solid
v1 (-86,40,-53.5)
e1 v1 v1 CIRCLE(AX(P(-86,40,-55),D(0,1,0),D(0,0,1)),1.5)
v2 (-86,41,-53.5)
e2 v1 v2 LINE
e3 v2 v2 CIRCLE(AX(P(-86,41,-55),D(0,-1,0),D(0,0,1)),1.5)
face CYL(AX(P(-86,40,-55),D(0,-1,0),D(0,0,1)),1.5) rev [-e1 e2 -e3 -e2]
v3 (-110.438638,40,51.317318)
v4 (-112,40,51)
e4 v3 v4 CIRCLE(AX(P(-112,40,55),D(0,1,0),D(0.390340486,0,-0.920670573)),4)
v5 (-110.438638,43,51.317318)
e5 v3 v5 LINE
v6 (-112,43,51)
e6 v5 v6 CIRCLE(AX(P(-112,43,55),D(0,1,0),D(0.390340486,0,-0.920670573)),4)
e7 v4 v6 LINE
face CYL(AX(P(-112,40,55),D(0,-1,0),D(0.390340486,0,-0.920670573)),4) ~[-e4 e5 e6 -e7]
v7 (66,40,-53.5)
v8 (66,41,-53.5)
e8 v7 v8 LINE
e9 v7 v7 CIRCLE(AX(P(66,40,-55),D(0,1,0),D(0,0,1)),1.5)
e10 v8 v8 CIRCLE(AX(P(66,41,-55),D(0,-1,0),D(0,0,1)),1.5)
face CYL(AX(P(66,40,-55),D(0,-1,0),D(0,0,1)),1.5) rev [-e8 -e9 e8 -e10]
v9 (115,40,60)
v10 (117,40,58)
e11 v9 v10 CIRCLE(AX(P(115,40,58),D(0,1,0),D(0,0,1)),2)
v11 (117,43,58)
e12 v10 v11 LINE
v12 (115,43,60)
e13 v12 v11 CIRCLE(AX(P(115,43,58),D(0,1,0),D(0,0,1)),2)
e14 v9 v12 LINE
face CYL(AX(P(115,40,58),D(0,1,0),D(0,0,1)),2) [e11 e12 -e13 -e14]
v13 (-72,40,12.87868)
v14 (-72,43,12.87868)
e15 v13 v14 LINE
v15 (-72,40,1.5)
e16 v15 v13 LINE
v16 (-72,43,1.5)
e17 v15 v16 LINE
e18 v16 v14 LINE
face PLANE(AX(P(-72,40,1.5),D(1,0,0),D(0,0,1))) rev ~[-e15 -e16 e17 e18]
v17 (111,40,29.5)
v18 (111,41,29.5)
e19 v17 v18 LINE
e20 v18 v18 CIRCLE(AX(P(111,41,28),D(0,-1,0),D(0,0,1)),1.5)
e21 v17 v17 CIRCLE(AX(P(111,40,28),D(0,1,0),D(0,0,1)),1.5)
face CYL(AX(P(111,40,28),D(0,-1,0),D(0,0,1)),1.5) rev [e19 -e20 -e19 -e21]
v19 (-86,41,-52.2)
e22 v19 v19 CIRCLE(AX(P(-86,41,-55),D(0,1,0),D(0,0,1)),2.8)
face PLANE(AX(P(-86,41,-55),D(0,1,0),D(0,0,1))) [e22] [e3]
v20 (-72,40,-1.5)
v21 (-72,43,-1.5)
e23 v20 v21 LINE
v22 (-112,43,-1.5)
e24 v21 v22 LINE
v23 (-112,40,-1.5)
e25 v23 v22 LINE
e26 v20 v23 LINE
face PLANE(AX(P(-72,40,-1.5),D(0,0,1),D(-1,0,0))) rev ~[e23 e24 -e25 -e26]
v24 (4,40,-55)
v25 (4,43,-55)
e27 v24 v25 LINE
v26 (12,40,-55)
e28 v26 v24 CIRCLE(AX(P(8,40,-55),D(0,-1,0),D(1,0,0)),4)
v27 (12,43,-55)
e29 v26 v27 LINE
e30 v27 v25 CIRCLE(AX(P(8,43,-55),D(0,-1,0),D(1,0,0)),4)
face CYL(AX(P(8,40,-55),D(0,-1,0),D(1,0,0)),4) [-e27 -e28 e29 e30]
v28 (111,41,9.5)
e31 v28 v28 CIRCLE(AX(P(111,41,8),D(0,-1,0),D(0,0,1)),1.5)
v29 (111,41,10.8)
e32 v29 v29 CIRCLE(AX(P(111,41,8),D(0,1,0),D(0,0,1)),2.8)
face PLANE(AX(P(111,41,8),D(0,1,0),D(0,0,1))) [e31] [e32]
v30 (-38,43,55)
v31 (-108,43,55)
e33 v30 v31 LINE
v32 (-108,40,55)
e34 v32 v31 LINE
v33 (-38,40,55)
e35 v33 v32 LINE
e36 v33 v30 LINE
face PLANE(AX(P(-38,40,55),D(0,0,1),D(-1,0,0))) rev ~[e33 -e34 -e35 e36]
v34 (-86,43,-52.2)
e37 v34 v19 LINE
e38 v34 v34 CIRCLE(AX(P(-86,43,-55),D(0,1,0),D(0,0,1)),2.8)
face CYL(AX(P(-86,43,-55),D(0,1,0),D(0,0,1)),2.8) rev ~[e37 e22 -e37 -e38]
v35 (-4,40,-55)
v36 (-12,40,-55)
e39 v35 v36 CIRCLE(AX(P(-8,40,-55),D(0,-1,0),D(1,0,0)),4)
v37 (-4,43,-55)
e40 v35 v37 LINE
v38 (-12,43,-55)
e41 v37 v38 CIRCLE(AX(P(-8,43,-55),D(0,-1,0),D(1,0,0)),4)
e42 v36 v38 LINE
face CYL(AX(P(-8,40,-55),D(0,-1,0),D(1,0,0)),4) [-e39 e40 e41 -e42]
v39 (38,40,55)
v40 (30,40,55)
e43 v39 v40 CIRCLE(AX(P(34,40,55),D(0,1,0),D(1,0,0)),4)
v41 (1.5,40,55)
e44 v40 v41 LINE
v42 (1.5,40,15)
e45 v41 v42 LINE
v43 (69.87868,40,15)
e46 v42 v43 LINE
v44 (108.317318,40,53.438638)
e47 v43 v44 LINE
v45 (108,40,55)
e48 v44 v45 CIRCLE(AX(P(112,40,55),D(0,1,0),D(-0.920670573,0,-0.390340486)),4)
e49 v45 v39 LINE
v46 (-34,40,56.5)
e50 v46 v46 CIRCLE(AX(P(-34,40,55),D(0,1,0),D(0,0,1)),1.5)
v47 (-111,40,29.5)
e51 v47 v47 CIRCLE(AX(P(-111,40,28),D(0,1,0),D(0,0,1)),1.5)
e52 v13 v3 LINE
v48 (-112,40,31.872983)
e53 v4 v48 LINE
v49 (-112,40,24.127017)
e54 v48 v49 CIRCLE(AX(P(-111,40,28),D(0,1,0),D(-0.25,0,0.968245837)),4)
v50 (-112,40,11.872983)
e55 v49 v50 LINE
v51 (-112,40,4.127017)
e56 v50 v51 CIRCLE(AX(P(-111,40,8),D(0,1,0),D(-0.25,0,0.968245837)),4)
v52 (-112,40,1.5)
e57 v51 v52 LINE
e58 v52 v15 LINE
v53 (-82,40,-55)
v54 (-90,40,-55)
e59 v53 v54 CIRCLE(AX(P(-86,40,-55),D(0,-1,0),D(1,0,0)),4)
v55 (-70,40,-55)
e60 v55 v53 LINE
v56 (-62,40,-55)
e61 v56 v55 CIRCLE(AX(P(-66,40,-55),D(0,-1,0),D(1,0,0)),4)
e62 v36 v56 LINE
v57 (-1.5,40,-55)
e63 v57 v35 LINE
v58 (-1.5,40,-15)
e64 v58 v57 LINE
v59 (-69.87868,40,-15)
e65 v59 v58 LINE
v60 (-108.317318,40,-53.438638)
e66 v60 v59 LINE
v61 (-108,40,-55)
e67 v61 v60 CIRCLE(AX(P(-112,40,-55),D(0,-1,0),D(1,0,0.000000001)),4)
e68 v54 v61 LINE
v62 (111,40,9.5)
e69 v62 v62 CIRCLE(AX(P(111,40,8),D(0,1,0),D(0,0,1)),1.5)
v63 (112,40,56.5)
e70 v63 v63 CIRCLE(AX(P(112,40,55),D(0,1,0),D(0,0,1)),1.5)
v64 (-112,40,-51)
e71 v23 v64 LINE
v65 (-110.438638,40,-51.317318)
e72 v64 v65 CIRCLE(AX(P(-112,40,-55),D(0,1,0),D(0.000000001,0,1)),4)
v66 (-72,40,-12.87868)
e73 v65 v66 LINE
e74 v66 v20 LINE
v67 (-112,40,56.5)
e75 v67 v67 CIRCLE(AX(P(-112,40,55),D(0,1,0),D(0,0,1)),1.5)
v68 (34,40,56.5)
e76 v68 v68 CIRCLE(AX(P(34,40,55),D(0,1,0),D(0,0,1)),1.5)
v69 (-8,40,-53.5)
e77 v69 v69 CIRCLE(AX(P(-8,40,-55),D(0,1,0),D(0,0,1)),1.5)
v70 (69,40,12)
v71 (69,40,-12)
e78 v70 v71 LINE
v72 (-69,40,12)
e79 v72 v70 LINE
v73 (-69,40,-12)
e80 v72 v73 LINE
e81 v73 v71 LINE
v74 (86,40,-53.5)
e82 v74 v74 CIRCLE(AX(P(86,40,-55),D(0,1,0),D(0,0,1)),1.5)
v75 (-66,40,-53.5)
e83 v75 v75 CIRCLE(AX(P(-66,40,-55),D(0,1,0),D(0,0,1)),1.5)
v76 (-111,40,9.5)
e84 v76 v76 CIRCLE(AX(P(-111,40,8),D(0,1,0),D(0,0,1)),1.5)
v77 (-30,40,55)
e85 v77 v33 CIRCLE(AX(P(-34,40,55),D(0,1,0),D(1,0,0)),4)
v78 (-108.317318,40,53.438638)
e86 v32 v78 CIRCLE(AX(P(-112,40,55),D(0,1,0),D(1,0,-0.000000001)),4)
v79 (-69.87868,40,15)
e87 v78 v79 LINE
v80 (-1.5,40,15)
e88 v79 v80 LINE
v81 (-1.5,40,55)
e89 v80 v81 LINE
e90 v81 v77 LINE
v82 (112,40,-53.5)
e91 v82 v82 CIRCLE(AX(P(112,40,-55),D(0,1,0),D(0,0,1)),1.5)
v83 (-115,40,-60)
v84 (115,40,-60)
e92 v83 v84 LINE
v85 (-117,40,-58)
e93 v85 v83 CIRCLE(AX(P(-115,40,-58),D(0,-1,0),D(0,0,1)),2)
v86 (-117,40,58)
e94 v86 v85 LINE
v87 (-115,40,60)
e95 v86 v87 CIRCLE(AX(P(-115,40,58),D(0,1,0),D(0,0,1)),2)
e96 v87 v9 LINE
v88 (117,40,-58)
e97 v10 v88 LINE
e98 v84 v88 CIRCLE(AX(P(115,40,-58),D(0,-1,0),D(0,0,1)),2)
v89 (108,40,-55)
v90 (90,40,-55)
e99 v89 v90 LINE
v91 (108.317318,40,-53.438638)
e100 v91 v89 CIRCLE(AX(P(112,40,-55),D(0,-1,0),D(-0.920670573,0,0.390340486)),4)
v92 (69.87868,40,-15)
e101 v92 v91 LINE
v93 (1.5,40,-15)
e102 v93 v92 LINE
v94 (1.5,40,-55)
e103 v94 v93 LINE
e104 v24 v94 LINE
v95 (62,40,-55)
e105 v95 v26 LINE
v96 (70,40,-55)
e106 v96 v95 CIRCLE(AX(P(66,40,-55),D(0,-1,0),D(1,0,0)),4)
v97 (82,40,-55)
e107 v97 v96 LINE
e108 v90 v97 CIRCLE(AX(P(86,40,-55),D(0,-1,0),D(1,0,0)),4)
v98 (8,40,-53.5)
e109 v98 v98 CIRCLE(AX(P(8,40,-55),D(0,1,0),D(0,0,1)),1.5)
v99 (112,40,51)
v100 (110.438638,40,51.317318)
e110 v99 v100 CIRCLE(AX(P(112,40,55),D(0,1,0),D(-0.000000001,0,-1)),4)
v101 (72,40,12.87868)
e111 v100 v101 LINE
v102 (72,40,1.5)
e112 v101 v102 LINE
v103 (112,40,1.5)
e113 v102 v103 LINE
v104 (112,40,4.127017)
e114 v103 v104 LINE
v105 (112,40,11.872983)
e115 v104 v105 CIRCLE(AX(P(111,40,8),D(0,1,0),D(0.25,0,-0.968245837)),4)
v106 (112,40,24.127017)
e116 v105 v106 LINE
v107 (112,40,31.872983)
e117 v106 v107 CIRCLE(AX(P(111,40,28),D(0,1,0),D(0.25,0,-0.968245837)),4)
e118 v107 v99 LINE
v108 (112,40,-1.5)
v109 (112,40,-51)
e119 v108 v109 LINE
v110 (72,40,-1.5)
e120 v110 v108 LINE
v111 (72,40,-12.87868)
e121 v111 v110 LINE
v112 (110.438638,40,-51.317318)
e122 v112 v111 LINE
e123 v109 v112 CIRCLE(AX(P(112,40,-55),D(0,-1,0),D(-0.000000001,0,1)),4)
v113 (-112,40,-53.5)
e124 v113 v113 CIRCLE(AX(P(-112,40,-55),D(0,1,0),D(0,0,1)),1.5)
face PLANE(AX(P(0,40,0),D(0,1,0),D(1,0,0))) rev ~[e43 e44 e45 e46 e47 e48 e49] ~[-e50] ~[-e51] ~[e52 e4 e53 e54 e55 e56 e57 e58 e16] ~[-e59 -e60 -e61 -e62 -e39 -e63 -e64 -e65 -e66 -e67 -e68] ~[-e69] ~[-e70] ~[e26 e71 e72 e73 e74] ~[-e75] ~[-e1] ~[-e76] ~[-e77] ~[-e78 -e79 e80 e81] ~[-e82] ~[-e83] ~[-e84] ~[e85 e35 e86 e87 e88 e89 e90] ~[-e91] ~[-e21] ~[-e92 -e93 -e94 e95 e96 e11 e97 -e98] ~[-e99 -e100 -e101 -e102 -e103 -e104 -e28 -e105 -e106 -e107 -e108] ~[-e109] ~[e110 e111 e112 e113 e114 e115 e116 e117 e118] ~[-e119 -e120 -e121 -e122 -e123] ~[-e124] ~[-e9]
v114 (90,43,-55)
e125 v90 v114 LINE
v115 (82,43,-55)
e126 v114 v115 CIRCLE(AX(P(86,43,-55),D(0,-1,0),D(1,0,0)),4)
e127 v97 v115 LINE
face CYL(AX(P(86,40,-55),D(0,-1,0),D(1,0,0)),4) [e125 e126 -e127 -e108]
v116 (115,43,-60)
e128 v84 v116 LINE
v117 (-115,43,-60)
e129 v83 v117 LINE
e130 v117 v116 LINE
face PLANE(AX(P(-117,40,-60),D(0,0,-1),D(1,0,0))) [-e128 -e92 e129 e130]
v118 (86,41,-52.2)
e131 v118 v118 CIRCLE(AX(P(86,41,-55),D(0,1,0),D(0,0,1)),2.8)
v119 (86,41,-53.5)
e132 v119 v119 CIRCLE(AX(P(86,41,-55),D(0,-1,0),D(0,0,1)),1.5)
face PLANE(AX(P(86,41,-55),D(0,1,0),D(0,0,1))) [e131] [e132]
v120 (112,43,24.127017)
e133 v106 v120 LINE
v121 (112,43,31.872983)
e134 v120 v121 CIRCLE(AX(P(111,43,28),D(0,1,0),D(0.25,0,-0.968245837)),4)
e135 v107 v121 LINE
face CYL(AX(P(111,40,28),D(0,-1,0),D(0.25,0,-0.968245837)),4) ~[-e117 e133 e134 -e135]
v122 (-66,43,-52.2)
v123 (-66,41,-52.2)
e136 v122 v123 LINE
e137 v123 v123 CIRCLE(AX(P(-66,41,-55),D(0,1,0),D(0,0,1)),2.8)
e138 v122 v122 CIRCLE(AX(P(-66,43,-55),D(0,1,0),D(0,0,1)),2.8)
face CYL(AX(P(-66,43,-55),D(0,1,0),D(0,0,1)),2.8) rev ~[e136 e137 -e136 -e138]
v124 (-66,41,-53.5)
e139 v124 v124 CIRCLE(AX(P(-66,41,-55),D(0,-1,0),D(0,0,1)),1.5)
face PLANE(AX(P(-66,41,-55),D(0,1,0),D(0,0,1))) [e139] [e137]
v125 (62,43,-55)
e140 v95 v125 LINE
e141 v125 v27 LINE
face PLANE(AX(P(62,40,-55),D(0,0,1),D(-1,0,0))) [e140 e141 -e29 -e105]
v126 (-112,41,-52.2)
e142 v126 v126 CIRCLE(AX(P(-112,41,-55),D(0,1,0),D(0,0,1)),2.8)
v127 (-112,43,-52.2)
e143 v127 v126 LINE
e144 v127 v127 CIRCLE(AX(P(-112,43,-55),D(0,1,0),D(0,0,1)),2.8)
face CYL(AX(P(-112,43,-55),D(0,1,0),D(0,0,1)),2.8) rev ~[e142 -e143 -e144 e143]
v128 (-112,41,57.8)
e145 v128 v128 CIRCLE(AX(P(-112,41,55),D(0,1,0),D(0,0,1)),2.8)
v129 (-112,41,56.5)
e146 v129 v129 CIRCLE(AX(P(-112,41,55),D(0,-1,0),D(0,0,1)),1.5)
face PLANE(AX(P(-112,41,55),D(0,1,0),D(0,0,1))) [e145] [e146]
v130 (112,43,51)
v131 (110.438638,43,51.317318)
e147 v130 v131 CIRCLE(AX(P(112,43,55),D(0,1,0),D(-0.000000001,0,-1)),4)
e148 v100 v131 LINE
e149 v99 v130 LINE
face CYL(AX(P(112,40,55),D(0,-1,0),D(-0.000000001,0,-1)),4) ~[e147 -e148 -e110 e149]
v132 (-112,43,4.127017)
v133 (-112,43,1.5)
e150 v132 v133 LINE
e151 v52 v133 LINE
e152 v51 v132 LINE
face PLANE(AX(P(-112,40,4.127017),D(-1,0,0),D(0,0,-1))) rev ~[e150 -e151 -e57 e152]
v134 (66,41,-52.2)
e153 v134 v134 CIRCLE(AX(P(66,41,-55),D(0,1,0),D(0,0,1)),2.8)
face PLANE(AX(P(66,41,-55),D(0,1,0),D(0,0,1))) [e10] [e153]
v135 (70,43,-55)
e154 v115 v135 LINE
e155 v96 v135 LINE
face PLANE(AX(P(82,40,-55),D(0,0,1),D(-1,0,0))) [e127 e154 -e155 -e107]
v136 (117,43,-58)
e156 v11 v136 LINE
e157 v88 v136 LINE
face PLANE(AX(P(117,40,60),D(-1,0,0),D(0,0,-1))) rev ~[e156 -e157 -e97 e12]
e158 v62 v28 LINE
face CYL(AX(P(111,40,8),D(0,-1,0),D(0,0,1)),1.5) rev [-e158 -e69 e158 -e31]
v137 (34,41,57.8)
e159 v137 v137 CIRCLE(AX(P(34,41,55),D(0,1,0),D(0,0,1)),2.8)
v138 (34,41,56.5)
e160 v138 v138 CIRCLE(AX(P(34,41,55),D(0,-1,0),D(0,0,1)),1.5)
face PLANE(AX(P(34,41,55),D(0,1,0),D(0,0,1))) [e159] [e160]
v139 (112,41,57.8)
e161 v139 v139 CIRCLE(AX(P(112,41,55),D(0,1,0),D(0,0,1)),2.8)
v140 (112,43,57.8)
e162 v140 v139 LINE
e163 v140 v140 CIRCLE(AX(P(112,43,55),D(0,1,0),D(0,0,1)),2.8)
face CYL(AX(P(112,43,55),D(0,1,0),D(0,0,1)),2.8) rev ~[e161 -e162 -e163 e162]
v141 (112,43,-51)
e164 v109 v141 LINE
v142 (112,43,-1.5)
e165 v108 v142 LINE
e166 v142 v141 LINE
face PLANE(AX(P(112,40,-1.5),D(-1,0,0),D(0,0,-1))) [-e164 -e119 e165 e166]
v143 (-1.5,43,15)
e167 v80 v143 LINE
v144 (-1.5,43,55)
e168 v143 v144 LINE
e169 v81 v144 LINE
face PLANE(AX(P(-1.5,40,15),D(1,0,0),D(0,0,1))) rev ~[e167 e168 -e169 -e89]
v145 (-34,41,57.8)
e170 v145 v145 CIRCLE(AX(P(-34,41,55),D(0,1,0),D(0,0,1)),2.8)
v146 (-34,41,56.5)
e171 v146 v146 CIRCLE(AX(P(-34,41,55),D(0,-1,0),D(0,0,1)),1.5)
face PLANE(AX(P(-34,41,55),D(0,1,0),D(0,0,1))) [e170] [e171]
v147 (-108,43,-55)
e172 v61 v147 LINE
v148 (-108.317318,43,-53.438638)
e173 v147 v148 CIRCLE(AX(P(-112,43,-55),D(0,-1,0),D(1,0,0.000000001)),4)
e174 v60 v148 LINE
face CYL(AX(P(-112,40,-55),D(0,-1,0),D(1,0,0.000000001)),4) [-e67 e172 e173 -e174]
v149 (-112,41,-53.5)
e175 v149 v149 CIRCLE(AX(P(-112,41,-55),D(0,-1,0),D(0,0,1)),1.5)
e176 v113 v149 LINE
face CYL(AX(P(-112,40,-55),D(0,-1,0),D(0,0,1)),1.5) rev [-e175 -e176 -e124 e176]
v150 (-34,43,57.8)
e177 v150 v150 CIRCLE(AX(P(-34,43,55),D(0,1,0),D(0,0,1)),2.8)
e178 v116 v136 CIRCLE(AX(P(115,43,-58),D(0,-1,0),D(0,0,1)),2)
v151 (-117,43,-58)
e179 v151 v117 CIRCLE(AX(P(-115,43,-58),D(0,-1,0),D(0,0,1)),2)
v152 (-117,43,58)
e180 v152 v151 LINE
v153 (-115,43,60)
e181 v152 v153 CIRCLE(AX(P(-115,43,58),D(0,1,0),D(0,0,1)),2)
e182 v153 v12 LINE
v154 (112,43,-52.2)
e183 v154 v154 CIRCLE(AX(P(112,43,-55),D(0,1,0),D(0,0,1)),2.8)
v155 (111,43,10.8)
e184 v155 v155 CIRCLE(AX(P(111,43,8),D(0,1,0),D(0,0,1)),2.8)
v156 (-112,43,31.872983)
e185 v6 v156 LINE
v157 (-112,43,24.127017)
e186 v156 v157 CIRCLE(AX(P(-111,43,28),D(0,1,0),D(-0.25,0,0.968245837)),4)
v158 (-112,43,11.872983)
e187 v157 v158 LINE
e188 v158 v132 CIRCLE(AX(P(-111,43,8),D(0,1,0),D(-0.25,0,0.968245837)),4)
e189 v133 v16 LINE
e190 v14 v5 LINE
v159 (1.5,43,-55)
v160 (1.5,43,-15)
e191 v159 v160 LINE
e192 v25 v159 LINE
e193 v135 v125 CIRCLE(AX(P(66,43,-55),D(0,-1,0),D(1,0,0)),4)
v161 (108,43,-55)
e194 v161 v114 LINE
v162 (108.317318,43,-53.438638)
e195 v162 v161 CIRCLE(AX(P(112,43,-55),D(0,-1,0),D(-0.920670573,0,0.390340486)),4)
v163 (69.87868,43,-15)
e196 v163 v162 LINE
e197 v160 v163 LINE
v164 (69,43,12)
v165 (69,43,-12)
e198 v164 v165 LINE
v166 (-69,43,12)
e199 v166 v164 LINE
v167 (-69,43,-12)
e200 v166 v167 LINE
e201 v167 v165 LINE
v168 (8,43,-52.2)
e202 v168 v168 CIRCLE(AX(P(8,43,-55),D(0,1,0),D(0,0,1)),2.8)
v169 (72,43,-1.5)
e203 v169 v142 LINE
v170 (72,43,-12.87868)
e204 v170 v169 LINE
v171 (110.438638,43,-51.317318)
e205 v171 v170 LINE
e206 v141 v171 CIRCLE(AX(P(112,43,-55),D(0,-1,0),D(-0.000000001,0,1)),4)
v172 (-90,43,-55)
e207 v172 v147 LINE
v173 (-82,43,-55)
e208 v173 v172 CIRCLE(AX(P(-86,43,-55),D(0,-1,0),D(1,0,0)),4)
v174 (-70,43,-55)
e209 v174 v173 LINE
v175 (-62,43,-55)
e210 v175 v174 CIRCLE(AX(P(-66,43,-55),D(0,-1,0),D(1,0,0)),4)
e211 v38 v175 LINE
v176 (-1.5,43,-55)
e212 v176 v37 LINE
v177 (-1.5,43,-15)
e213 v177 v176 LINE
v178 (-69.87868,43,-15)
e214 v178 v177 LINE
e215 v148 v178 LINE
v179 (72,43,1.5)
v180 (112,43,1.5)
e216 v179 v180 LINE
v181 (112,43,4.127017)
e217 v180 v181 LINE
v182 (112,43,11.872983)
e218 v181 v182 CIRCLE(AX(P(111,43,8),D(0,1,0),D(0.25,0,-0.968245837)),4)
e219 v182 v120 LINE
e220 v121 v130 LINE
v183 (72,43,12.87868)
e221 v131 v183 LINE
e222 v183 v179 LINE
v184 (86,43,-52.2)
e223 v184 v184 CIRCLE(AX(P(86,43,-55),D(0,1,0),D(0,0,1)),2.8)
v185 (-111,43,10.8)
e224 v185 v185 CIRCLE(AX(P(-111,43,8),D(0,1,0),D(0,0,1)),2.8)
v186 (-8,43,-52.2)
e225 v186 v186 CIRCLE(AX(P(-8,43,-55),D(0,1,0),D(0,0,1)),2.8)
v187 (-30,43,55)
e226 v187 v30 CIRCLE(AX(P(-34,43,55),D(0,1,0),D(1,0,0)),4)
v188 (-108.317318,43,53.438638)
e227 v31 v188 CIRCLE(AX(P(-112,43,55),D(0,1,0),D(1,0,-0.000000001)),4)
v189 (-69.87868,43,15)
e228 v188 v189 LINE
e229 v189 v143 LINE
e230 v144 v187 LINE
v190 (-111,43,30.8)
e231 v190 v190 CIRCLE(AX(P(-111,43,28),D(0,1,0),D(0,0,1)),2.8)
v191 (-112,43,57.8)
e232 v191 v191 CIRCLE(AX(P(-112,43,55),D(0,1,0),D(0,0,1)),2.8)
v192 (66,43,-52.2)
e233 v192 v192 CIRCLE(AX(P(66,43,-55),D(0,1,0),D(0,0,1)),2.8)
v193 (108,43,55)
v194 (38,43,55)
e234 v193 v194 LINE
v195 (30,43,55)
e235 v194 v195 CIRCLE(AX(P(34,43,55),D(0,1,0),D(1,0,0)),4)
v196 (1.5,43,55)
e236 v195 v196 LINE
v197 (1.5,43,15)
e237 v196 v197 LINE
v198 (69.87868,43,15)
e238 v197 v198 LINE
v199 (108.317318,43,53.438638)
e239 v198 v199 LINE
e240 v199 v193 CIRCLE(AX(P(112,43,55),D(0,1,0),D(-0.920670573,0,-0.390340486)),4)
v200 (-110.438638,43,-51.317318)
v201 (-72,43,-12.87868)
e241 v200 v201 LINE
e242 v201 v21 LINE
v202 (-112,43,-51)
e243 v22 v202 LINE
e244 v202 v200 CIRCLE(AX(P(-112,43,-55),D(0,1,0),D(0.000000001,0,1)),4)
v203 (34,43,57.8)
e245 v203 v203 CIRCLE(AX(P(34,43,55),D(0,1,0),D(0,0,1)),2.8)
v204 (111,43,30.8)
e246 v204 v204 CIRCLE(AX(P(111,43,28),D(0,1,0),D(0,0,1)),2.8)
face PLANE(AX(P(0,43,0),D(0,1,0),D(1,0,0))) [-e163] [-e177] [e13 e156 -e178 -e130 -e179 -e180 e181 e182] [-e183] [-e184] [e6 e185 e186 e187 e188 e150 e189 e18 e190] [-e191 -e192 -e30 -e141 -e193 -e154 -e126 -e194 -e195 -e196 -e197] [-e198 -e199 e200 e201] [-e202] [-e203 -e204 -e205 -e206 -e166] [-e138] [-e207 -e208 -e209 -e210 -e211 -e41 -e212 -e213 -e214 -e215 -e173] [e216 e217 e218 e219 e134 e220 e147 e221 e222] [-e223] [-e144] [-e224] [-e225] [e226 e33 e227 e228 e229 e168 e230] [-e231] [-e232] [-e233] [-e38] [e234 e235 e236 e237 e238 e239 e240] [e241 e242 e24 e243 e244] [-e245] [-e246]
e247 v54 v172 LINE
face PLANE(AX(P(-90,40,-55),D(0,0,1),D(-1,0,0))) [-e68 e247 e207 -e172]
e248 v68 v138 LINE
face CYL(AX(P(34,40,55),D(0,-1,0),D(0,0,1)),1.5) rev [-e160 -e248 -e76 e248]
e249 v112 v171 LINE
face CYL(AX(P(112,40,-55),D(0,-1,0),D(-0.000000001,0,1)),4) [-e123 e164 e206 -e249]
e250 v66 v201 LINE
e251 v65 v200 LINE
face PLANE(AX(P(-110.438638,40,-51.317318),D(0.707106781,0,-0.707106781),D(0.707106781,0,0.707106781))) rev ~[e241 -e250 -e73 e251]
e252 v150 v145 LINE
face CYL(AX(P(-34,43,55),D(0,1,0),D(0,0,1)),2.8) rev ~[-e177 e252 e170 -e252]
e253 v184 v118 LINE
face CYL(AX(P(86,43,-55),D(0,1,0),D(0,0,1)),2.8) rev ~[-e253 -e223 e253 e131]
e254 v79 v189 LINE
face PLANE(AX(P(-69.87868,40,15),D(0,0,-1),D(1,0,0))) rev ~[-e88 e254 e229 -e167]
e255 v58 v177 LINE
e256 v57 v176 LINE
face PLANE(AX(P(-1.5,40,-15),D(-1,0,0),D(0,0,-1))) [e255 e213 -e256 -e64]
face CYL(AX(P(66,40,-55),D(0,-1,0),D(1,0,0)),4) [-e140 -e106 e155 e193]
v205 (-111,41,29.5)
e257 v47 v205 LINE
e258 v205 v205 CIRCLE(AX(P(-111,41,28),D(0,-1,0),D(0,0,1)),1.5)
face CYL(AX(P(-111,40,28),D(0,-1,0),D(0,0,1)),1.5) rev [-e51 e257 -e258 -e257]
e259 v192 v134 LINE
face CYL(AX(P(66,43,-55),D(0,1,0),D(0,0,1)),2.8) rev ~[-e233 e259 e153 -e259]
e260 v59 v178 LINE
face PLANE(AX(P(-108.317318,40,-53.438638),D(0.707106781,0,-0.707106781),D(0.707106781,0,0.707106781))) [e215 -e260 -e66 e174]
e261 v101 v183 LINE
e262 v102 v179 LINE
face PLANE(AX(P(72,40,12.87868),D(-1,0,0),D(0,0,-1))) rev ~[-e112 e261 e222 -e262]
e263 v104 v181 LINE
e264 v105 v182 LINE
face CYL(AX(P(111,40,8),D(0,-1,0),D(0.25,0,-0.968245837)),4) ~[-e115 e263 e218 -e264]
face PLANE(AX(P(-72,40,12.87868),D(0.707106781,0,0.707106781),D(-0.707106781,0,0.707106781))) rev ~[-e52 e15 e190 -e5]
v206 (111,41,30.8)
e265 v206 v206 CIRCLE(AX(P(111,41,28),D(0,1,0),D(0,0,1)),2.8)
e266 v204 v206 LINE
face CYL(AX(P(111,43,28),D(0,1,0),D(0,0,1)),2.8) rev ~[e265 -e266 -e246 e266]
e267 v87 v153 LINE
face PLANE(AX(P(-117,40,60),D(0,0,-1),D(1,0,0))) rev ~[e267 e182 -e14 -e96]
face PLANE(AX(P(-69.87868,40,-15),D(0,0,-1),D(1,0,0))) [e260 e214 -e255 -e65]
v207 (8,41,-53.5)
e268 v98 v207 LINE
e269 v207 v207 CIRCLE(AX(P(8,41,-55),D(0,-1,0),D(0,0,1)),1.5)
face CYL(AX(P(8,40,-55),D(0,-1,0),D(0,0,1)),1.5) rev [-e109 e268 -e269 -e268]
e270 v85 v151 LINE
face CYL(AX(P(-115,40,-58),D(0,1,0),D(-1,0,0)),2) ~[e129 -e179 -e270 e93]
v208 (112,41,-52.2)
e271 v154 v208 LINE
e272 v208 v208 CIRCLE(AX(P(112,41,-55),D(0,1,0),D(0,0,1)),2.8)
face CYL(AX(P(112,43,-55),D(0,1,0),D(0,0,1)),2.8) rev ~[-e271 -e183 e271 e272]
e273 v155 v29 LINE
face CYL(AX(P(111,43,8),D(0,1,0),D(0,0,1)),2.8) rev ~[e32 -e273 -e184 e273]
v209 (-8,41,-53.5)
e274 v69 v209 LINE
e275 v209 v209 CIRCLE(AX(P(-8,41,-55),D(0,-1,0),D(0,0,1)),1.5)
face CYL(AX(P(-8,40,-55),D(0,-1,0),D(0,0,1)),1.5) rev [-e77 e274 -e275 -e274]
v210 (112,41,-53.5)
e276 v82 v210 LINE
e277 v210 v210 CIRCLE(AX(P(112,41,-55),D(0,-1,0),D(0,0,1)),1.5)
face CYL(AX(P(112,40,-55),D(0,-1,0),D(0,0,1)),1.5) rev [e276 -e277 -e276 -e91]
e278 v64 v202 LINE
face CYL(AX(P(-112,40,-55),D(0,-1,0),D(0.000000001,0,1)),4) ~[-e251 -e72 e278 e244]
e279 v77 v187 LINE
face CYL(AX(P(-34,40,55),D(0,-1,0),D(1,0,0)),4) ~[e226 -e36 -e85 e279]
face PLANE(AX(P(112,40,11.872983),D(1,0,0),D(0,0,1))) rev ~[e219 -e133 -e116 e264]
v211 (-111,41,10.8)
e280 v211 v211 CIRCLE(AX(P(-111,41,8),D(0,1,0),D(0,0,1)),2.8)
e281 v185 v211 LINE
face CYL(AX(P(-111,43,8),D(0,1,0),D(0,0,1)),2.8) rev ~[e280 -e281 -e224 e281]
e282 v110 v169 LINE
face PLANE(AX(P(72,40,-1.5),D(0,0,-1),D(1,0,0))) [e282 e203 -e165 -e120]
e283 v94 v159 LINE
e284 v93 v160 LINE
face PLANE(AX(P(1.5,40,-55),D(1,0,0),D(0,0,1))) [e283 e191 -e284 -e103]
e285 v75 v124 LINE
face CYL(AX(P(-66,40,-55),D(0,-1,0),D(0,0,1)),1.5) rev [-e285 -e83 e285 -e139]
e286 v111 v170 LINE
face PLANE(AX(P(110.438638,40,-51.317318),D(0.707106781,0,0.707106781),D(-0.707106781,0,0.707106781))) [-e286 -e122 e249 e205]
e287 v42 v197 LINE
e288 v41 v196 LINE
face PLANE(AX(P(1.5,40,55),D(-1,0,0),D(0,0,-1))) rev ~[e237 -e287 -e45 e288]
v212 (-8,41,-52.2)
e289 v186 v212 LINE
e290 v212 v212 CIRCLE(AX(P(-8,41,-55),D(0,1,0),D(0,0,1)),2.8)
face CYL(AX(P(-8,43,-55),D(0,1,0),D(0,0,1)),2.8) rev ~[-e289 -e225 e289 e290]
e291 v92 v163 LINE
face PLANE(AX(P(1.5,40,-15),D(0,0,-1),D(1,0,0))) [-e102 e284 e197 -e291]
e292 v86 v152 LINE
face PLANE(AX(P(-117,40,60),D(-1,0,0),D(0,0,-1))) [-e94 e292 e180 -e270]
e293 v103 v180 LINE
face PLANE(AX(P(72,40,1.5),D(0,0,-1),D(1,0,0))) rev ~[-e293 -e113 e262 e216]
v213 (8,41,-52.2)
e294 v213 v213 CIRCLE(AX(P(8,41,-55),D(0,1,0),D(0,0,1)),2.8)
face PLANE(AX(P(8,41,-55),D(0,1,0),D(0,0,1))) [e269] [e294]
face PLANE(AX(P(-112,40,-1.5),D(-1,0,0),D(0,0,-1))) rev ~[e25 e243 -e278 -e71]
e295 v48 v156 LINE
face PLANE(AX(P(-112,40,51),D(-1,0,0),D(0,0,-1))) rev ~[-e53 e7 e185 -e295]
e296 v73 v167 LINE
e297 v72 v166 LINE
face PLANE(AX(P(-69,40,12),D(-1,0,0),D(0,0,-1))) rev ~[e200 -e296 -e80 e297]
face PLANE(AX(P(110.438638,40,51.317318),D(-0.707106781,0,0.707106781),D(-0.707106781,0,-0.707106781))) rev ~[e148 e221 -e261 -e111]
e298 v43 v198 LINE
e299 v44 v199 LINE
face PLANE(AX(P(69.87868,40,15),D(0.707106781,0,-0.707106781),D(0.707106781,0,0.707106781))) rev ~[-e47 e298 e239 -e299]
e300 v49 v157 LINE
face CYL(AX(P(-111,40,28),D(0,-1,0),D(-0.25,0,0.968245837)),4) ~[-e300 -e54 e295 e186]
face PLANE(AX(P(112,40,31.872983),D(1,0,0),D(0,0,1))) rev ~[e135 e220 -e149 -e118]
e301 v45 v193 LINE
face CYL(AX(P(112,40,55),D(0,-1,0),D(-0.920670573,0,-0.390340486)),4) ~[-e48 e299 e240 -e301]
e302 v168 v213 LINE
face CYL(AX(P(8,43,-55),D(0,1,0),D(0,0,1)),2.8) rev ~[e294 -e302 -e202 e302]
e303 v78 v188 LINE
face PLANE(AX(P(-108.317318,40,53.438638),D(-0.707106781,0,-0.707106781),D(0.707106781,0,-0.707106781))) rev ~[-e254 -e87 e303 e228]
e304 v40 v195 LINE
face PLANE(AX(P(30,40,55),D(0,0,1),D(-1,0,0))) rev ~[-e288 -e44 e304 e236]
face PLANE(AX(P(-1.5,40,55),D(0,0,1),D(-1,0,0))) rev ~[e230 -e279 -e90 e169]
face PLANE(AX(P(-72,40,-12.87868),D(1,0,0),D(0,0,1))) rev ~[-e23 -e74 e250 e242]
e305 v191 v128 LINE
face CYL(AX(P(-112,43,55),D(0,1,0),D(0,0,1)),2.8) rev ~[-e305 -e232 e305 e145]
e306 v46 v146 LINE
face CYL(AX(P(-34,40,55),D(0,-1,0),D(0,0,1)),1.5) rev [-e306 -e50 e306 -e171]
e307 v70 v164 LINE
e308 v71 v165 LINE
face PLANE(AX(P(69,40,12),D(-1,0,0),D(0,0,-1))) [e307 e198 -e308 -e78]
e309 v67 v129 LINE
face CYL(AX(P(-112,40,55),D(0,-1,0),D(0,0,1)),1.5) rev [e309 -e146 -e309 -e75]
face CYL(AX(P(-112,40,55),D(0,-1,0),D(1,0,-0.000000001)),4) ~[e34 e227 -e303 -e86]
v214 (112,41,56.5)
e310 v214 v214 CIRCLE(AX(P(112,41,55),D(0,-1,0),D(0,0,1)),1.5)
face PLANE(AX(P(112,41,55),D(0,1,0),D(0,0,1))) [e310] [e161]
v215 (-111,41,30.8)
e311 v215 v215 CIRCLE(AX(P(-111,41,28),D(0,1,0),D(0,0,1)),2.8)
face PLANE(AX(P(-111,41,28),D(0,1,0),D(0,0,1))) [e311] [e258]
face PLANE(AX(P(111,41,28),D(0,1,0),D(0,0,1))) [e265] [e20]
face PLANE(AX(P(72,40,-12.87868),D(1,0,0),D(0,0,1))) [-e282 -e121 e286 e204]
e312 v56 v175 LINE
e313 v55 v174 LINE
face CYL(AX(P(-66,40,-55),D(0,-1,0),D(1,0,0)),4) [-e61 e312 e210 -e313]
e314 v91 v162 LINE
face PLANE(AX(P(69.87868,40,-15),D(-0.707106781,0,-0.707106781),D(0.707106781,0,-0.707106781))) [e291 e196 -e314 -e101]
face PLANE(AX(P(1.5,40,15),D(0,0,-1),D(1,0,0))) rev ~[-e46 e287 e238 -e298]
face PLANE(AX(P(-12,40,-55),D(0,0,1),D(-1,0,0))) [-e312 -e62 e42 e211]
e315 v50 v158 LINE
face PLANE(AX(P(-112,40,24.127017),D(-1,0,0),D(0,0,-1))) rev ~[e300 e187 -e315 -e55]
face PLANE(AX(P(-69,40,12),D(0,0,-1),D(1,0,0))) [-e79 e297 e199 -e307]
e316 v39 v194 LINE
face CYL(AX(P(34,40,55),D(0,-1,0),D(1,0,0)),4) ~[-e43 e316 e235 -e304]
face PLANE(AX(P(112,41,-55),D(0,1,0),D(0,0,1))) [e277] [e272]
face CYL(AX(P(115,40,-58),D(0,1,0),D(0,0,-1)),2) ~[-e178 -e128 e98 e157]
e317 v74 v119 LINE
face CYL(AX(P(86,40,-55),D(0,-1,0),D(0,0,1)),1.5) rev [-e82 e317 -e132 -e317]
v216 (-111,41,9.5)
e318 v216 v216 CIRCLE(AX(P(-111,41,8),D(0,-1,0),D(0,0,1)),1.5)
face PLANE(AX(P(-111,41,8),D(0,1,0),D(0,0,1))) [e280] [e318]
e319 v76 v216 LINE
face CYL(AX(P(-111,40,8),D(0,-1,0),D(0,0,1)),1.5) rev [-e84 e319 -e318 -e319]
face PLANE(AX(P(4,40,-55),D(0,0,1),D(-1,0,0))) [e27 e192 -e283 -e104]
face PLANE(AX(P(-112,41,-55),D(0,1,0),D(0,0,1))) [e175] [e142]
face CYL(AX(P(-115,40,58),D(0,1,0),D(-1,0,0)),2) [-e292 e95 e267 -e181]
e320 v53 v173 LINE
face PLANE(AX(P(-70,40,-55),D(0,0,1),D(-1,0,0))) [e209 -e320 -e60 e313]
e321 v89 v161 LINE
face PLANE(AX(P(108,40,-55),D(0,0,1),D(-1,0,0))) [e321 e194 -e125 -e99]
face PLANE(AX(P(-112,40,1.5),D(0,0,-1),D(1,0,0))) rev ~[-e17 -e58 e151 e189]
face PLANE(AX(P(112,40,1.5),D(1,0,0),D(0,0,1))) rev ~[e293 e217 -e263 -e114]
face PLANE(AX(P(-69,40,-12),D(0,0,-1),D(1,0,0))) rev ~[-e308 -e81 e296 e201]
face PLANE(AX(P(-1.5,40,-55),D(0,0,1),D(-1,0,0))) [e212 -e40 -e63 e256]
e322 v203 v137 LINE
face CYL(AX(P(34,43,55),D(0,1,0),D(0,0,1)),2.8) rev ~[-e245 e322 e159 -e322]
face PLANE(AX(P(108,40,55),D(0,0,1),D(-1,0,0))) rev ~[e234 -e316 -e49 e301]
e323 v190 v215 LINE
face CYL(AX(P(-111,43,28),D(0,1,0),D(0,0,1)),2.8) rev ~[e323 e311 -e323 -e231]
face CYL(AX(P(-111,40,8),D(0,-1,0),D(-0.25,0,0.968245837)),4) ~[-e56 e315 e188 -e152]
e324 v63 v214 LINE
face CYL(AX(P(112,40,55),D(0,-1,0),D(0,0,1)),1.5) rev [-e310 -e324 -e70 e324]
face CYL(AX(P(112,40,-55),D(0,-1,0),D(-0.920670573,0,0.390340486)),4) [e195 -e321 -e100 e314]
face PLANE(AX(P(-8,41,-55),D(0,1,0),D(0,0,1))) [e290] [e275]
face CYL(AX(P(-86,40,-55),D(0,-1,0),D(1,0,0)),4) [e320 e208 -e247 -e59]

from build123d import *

# Parameters (mm, degrees)
SKETCH_1_W          = 234
SKETCH_1_H          = 120
SKETCH_1_R          = 45
EXTRUDE_1_DEPTH     = 3
SKETCH_2_R          = 1.5
CUT_EXTRUDE_1_DEPTH = 3
SKETCH_3_R          = 1.5
CUT_EXTRUDE_2_DEPTH = 3
SKETCH_4_R          = 1.5
CUT_EXTRUDE_3_DEPTH = 3
SKETCH_5_R          = 1.5
CUT_EXTRUDE_4_DEPTH = 3
FILLET_1_R          = 2
CUT_EXTRUDE_5_DEPTH = 10
EXTRUDE_START       = 17
SKETCH_7_R          = 1.5
EXTRUDE_2_DEPTH     = 17
CUT_EXTRUDE_6_DEPTH = 50
EXTRUDE_START_2     = 20
SKETCH_9_W          = 234
SKETCH_9_H          = 120
SKETCH_9_R          = 1.5
SKETCH_9_W_2        = 138
SKETCH_9_H_2        = 24
EXTRUDE_3_DEPTH     = 3
SKETCH_10_W         = 388.421700004
SKETCH_10_H         = 217.9083871
CUT_EXTRUDE_7_DEPTH = 90
FILLET_2_R          = 2
SKETCH_11_R         = 2.8
CUT_EXTRUDE_8_DEPTH = 2


with BuildPart() as part:
    # 草图1 → 凸台-拉伸1 (new body)
    with BuildSketch(Plane(origin=(0, 0, 0), x_dir=(1, 0, 0), z_dir=(0, 1, 0))):
        Rectangle(SKETCH_1_W, SKETCH_1_H)
        with Locations(Location((-58.5, 0, 0), (0, 0, 270))):
            Circle(SKETCH_1_R, mode=Mode.SUBTRACT)
        with Locations(Location((58.5, 0, 0), (0, 0, 90))):
            Circle(SKETCH_1_R, mode=Mode.SUBTRACT)
    extrude(amount=EXTRUDE_1_DEPTH)

    # 草图2 → 切除-拉伸1 (cut)
    with BuildSketch(Plane(origin=(0, 3, 0), x_dir=(1, 0, 0), z_dir=(0, 1, 0))):
        with Locations(Location((-88.5, -40, 0), (0, 0, 270))):
            Circle(SKETCH_2_R)
        with Locations(Location((-83.5, 43.301270189, 0), (0, 0, 270))):
            Circle(SKETCH_2_R)
        with Locations(Location((-33.5, 43.301270189, 0), (0, 0, 90))):
            Circle(SKETCH_2_R)
        with Locations(Location((-28.5, -40, 0), (0, 0, 90))):
            Circle(SKETCH_2_R)
        with Locations(Location((28.5, -40, 0), (0, 0, 270))):
            Circle(SKETCH_2_R)
        with Locations(Location((88.5, -40, 0), (0, 0, 90))):
            Circle(SKETCH_2_R)
        with Locations(Location((33.5, 43.301270189, 0), (0, 0, 270))):
            Circle(SKETCH_2_R)
        with Locations(Location((83.5, 43.301270189, 0), (0, 0, 90))):
            Circle(SKETCH_2_R)
    extrude(amount=-CUT_EXTRUDE_1_DEPTH, mode=Mode.SUBTRACT)

    # 草图3 → 切除-拉伸2 (cut)
    with BuildSketch(Plane(origin=(0, 3, 0), x_dir=(1, 0, 0), z_dir=(0, 1, 0))):
        with Locations(Location((-111, -28, 0), (0, 0, 270))):
            Circle(SKETCH_3_R)
        with Locations(Location((-111, -8, 0), (0, 0, 270))):
            Circle(SKETCH_3_R)
        with Locations(Location((111, -8, 0), (0, 0, 90))):
            Circle(SKETCH_3_R)
        with Locations(Location((111, -28, 0), (0, 0, 90))):
            Circle(SKETCH_3_R)
        with Locations(Location((-86, 55, 0), (0, 0, 270))):
            Circle(SKETCH_3_R)
        with Locations(Location((-66, 55, 0), (0, 0, 270))):
            Circle(SKETCH_3_R)
        with Locations(Location((66, 55, 0), (0, 0, 90))):
            Circle(SKETCH_3_R)
        with Locations(Location((86, 55, 0), (0, 0, 90))):
            Circle(SKETCH_3_R)
    extrude(amount=-CUT_EXTRUDE_2_DEPTH, mode=Mode.SUBTRACT)

    # 草图4 → 切除-拉伸3 (cut)
    with BuildSketch(Plane(origin=(0, 3, 0), x_dir=(1, 0, 0), z_dir=(0, 1, 0))):
        with Locations(Location((-112, -55, 0), (0, 0, 270))):
            Circle(SKETCH_4_R)
        with Locations(Location((-112, 55, 0), (0, 0, 270))):
            Circle(SKETCH_4_R)
        with Locations(Location((112, 55, 0), (0, 0, 270))):
            Circle(SKETCH_4_R)
        with Locations(Location((112, -55, 0), (0, 0, 270))):
            Circle(SKETCH_4_R)
        with Locations(Location((-34, -55, 0), (0, 0, 270))):
            Circle(SKETCH_4_R)
        with Locations(Location((34, -55, 0), (0, 0, 270))):
            Circle(SKETCH_4_R)
    extrude(amount=-CUT_EXTRUDE_3_DEPTH, mode=Mode.SUBTRACT)

    # 草图5 → 切除-拉伸4 (cut)
    with BuildSketch(Plane(origin=(0, 3, 0), x_dir=(1, 0, 0), z_dir=(0, 1, 0))):
        with Locations(Location((-8, 55, 0), (0, 0, 270))):
            Circle(SKETCH_5_R)
        with Locations(Location((8, 55, 0), (0, 0, 270))):
            Circle(SKETCH_5_R)
    extrude(amount=-CUT_EXTRUDE_4_DEPTH, mode=Mode.SUBTRACT)

    # 圆角1
    fillet_1_edges = [part.edges().sort_by_distance(p)[0] for p in [
        (117, 1.5, 60),
        (-117, 1.5, 60),
        (-117, 1.5, -60),
        (117, 1.5, -60),
    ]]
    fillet(fillet_1_edges, radius=FILLET_1_R)

    # 草图6 → 切除-拉伸5 (cut)
    with BuildSketch(Plane(origin=(0, 3, 0), x_dir=(1, 0, 0), z_dir=(0, 1, 0))):
        with BuildLine():
            Line((109.5, -12.769696007), (109.5, -23.230303993))
            ThreePointArc((109.5, -23.230303993), (106, -28), (109.5, -32.769696007))
            Line((109.5, -32.769696007), (109.5, -50.669872981))
            ThreePointArc((109.5, -50.669872981), (108.464466094, -51.464466094), (107.669872981, -52.5))
            Line((107.669872981, -52.5), (38.330127019, -52.5))
            ThreePointArc((38.330127019, -52.5), (34, -50), (29.669872981, -52.5))
            Line((29.669872981, -52.5), (-29.669872981, -52.5))
            ThreePointArc((-29.669872981, -52.5), (-34, -50), (-38.330127019, -52.5))
            Line((-38.330127019, -52.5), (-107.669872981, -52.5))
            ThreePointArc((-107.669872981, -52.5), (-108.464466094, -51.464466094), (-109.5, -50.669872981))
            Line((-109.5, -50.669872981), (-109.5, -32.769696007))
            ThreePointArc((-109.5, -32.769696007), (-106, -28), (-109.5, -23.230303993))
            Line((-109.5, -23.230303993), (-109.5, -12.769696007))
            ThreePointArc((-109.5, -12.769696007), (-106, -8), (-109.5, -3.230303993))
            Line((-109.5, -3.230303993), (-109.5, 50.669872981))
            ThreePointArc((-109.5, 50.669872981), (-108.464466094, 51.464466094), (-107.669872981, 52.5))
            Line((-107.669872981, 52.5), (-90.330127019, 52.5))
            ThreePointArc((-90.330127019, 52.5), (-86, 50), (-81.669872981, 52.5))
            Line((-81.669872981, 52.5), (-70.330127019, 52.5))
            ThreePointArc((-70.330127019, 52.5), (-66, 50), (-61.669872981, 52.5))
            Line((-61.669872981, 52.5), (-12.330127019, 52.5))
            ThreePointArc((-12.330127019, 52.5), (-8, 50), (-3.669872981, 52.5))
            Line((-3.669872981, 52.5), (3.669872981, 52.5))
            ThreePointArc((3.669872981, 52.5), (8, 50), (12.330127019, 52.5))
            Line((12.330127019, 52.5), (61.669872981, 52.5))
            ThreePointArc((61.669872981, 52.5), (66, 50), (70.330127019, 52.5))
            Line((70.330127019, 52.5), (81.669872981, 52.5))
            ThreePointArc((81.669872981, 52.5), (86, 50), (90.330127019, 52.5))
            Line((90.330127019, 52.5), (107.669872981, 52.5))
            ThreePointArc((107.669872981, 52.5), (108.464466094, 51.464466094), (109.5, 50.669872981))
            Line((109.5, 50.669872981), (109.5, -3.230303993))
            ThreePointArc((109.5, -3.230303993), (106, -8), (109.5, -12.769696007))
        make_face()
    extrude(amount=-CUT_EXTRUDE_5_DEPTH, mode=Mode.SUBTRACT)

    # 草图7 → 凸台-拉伸2 (add)
    with BuildSketch(Plane(origin=(0, 3, 0), x_dir=(1, 0, 0), z_dir=(0, 1, 0)).offset(EXTRUDE_START)):
        with BuildLine():
            Line((-117, 58), (-117, -58))
            ThreePointArc((-117, -58), (-116.414213562, -59.414213562), (-115, -60))
            Line((-115, -60), (115, -60))
            ThreePointArc((115, -60), (116.414213562, -59.414213562), (117, -58))
            Line((117, -58), (117, 58))
            ThreePointArc((117, 58), (116.414213562, 59.414213562), (115, 60))
            Line((115, 60), (-115, 60))
            ThreePointArc((-115, 60), (-116.414213562, 59.414213562), (-117, 58))
        make_face()
        with Locations(Location((112, -55, 0), (0, 0, 270))):
            Circle(SKETCH_7_R, mode=Mode.SUBTRACT)
        with Locations(Location((111, -28, 0), (0, 0, 270))):
            Circle(SKETCH_7_R, mode=Mode.SUBTRACT)
        with Locations(Location((111, -8, 0), (0, 0, 270))):
            Circle(SKETCH_7_R, mode=Mode.SUBTRACT)
        with Locations(Location((112, 55, 0), (0, 0, 270))):
            Circle(SKETCH_7_R, mode=Mode.SUBTRACT)
        with Locations(Location((34, -55, 0), (0, 0, 270))):
            Circle(SKETCH_7_R, mode=Mode.SUBTRACT)
        with Locations(Location((-34, -55, 0), (0, 0, 270))):
            Circle(SKETCH_7_R, mode=Mode.SUBTRACT)
        with Locations(Location((86, 55, 0), (0, 0, 270))):
            Circle(SKETCH_7_R, mode=Mode.SUBTRACT)
        with Locations(Location((66, 55, 0), (0, 0, 270))):
            Circle(SKETCH_7_R, mode=Mode.SUBTRACT)
        with Locations(Location((8, 55, 0), (0, 0, 270))):
            Circle(SKETCH_7_R, mode=Mode.SUBTRACT)
        with Locations(Location((-8, 55, 0), (0, 0, 270))):
            Circle(SKETCH_7_R, mode=Mode.SUBTRACT)
        with Locations(Location((-66, 55, 0), (0, 0, 270))):
            Circle(SKETCH_7_R, mode=Mode.SUBTRACT)
        with Locations(Location((-86, 55, 0), (0, 0, 270))):
            Circle(SKETCH_7_R, mode=Mode.SUBTRACT)
        with Locations(Location((-112, 55, 0), (0, 0, 270))):
            Circle(SKETCH_7_R, mode=Mode.SUBTRACT)
        with Locations(Location((-112, -55, 0), (0, 0, 270))):
            Circle(SKETCH_7_R, mode=Mode.SUBTRACT)
        with Locations(Location((-111, -28, 0), (0, 0, 270))):
            Circle(SKETCH_7_R, mode=Mode.SUBTRACT)
        with Locations(Location((-111, -8, 0), (0, 0, 270))):
            Circle(SKETCH_7_R, mode=Mode.SUBTRACT)
        with BuildLine():
            Line((109.5, -50.669872981), (109.5, -32.769696007))
            ThreePointArc((109.5, -32.769696007), (106, -28), (109.5, -23.230303993))
            Line((109.5, -23.230303993), (109.5, -12.769696007))
            ThreePointArc((109.5, -12.769696007), (106, -8), (109.5, -3.230303993))
            Line((109.5, -3.230303993), (109.5, 50.669872981))
            ThreePointArc((109.5, 50.669872981), (108.464466094, 51.464466094), (107.669872981, 52.5))
            Line((107.669872981, 52.5), (90.330127019, 52.5))
            ThreePointArc((90.330127019, 52.5), (86, 50), (81.669872981, 52.5))
            Line((81.669872981, 52.5), (70.330127019, 52.5))
            ThreePointArc((70.330127019, 52.5), (66, 50), (61.669872981, 52.5))
            Line((61.669872981, 52.5), (12.330127019, 52.5))
            ThreePointArc((12.330127019, 52.5), (8, 50), (3.669872981, 52.5))
            Line((3.669872981, 52.5), (-3.669872981, 52.5))
            ThreePointArc((-3.669872981, 52.5), (-8, 50), (-12.330127019, 52.5))
            Line((-12.330127019, 52.5), (-61.669872981, 52.5))
            ThreePointArc((-61.669872981, 52.5), (-66, 50), (-70.330127019, 52.5))
            Line((-70.330127019, 52.5), (-81.669872981, 52.5))
            ThreePointArc((-81.669872981, 52.5), (-86, 50), (-90.330127019, 52.5))
            Line((-90.330127019, 52.5), (-107.669872981, 52.5))
            ThreePointArc((-107.669872981, 52.5), (-108.464466094, 51.464466094), (-109.5, 50.669872981))
            Line((-109.5, 50.669872981), (-109.5, -3.230303993))
            ThreePointArc((-109.5, -3.230303993), (-106, -8), (-109.5, -12.769696007))
            Line((-109.5, -12.769696007), (-109.5, -23.230303993))
            ThreePointArc((-109.5, -23.230303993), (-106, -28), (-109.5, -32.769696007))
            Line((-109.5, -32.769696007), (-109.5, -50.669872981))
            ThreePointArc((-109.5, -50.669872981), (-108.464466094, -51.464466094), (-107.669872981, -52.5))
            Line((-107.669872981, -52.5), (-38.330127019, -52.5))
            ThreePointArc((-38.330127019, -52.5), (-34, -50), (-29.669872981, -52.5))
            Line((-29.669872981, -52.5), (29.669872981, -52.5))
            ThreePointArc((29.669872981, -52.5), (34, -50), (38.330127019, -52.5))
            Line((38.330127019, -52.5), (107.669872981, -52.5))
            ThreePointArc((107.669872981, -52.5), (108.464466094, -51.464466094), (109.5, -50.669872981))
        make_face(mode=Mode.SUBTRACT)
    extrude(amount=-EXTRUDE_2_DEPTH)

    # 草图8 → 切除-拉伸6 (cut)
    with BuildSketch(Plane(origin=(0, 20, 0), x_dir=(1, 0, 0), z_dir=(0, 1, 0))):
        with BuildLine():
            Line((-90, 55), (-108, 55))
            ThreePointArc((-108, 55), (-109.171572875, 52.171572875), (-112, 51))
            Line((-112, 51), (-112, -4.127016654))
            ThreePointArc((-112, -4.127016654), (-107, -8), (-112, -11.872983346))
            Line((-112, -11.872983346), (-112, -24.127016654))
            ThreePointArc((-112, -24.127016654), (-107, -28), (-112, -31.872983346))
            Line((-112, -31.872983346), (-112, -51))
            ThreePointArc((-112, -51), (-109.171572875, -52.171572875), (-108, -55))
            Line((-108, -55), (-38, -55))
            ThreePointArc((-38, -55), (-34, -51), (-30, -55))
            Line((-30, -55), (30, -55))
            ThreePointArc((30, -55), (34, -51), (38, -55))
            Line((38, -55), (108, -55))
            ThreePointArc((108, -55), (109.171572875, -52.171572875), (112, -51))
            Line((112, -51), (112, -31.872983346))
            ThreePointArc((112, -31.872983346), (107, -28), (112, -24.127016654))
            Line((112, -24.127016654), (112, -11.872983346))
            ThreePointArc((112, -11.872983346), (107, -8), (112, -4.127016654))
            Line((112, -4.127016654), (112, 51))
            ThreePointArc((112, 51), (109.171572875, 52.171572875), (108, 55))
            Line((108, 55), (90, 55))
            ThreePointArc((90, 55), (86, 51), (82, 55))
            Line((82, 55), (70, 55))
            ThreePointArc((70, 55), (66, 51), (62, 55))
            Line((62, 55), (12, 55))
            ThreePointArc((12, 55), (8, 51), (4, 55))
            Line((4, 55), (-4, 55))
            ThreePointArc((-4, 55), (-8, 51), (-12, 55))
            Line((-12, 55), (-62, 55))
            ThreePointArc((-62, 55), (-66, 51), (-70, 55))
            Line((-70, 55), (-82, 55))
            ThreePointArc((-82, 55), (-86, 51), (-90, 55))
        make_face()
    extrude(amount=-CUT_EXTRUDE_6_DEPTH, mode=Mode.SUBTRACT)

    # 草图10 → 切除-拉伸7 (cut)
    with BuildSketch(Plane(origin=(0, 20, 0), x_dir=(1, 0, 0), z_dir=(0, 1, 0))):
        Rectangle(SKETCH_10_W, SKETCH_10_H)
    extrude(amount=-CUT_EXTRUDE_7_DEPTH, mode=Mode.SUBTRACT)


with BuildPart() as body_2:
    # 草图9 → 凸台-拉伸3 (new body)
    with BuildSketch(Plane(origin=(0, 20, 0), x_dir=(1, 0, 0), z_dir=(0, 1, 0)).offset(EXTRUDE_START_2)):
        Rectangle(SKETCH_9_W, SKETCH_9_H)
        with Locations(Location((-112, -55, 0), (0, 0, 270))):
            Circle(SKETCH_9_R, mode=Mode.SUBTRACT)
        with Locations(Location((-111, -28, 0), (0, 0, 270))):
            Circle(SKETCH_9_R, mode=Mode.SUBTRACT)
        with Locations(Location((-111, -8, 0), (0, 0, 270))):
            Circle(SKETCH_9_R, mode=Mode.SUBTRACT)
        with Locations(Location((-112, 55, 0), (0, 0, 270))):
            Circle(SKETCH_9_R, mode=Mode.SUBTRACT)
        with Locations(Location((-66, 55, 0), (0, 0, 270))):
            Circle(SKETCH_9_R, mode=Mode.SUBTRACT)
        with Locations(Location((-86, 55, 0), (0, 0, 270))):
            Circle(SKETCH_9_R, mode=Mode.SUBTRACT)
        with Locations(Location((-8, 55, 0), (0, 0, 270))):
            Circle(SKETCH_9_R, mode=Mode.SUBTRACT)
        with Locations(Location((8, 55, 0), (0, 0, 270))):
            Circle(SKETCH_9_R, mode=Mode.SUBTRACT)
        with Locations(Location((66, 55, 0), (0, 0, 270))):
            Circle(SKETCH_9_R, mode=Mode.SUBTRACT)
        with Locations(Location((86, 55, 0), (0, 0, 270))):
            Circle(SKETCH_9_R, mode=Mode.SUBTRACT)
        with Locations(Location((112, 55, 0), (0, 0, 270))):
            Circle(SKETCH_9_R, mode=Mode.SUBTRACT)
        with Locations(Location((111, -8, 0), (0, 0, 270))):
            Circle(SKETCH_9_R, mode=Mode.SUBTRACT)
        with Locations(Location((111, -28, 0), (0, 0, 270))):
            Circle(SKETCH_9_R, mode=Mode.SUBTRACT)
        with Locations(Location((112, -55, 0), (0, 0, 270))):
            Circle(SKETCH_9_R, mode=Mode.SUBTRACT)
        with Locations(Location((34, -55, 0), (0, 0, 270))):
            Circle(SKETCH_9_R, mode=Mode.SUBTRACT)
        with Locations(Location((-34, -55, 0), (0, 0, 270))):
            Circle(SKETCH_9_R, mode=Mode.SUBTRACT)
        with BuildLine():
            Line((69.878679656, -15), (108.317317708, -53.438638051))
            ThreePointArc((108.317317708, -53.438638051), (108.080132071, -54.203359921), (108, -55))
            Line((108, -55), (38, -55))
            ThreePointArc((38, -55), (34, -51), (30, -55))
            Line((30, -55), (1.5, -55))
            Line((1.5, -55), (1.5, -15))
            Line((1.5, -15), (69.878679656, -15))
        make_face(mode=Mode.SUBTRACT)
        Rectangle(SKETCH_9_W_2, SKETCH_9_H_2, mode=Mode.SUBTRACT)
        with BuildLine():
            Line((-72, 12.878679656), (-72, 1.5))
            Line((-72, 1.5), (-112, 1.5))
            Line((-112, 1.5), (-112, 51))
            ThreePointArc((-112, 51), (-111.203359921, 51.080132071), (-110.438638051, 51.317317708))
            Line((-110.438638051, 51.317317708), (-72, 12.878679656))
        make_face(mode=Mode.SUBTRACT)
        with BuildLine():
            Line((-69.878679656, -15), (-1.5, -15))
            Line((-1.5, -15), (-1.5, -55))
            Line((-1.5, -55), (-30, -55))
            ThreePointArc((-30, -55), (-34, -51), (-38, -55))
            Line((-38, -55), (-108, -55))
            ThreePointArc((-108, -55), (-108.080132071, -54.203359921), (-108.317317708, -53.438638051))
            Line((-108.317317708, -53.438638051), (-69.878679656, -15))
        make_face(mode=Mode.SUBTRACT)
        with BuildLine():
            Line((72, 12.878679656), (72, 1.5))
            Line((72, 1.5), (112, 1.5))
            Line((112, 1.5), (112, 51))
            ThreePointArc((112, 51), (111.203359921, 51.080132071), (110.438638051, 51.317317708))
            Line((110.438638051, 51.317317708), (72, 12.878679656))
        make_face(mode=Mode.SUBTRACT)
        with BuildLine():
            Line((-69.878679656, 15), (-1.5, 15))
            Line((-1.5, 15), (-1.5, 55))
            Line((-1.5, 55), (-4, 55))
            ThreePointArc((-4, 55), (-8, 51), (-12, 55))
            Line((-12, 55), (-62, 55))
            ThreePointArc((-62, 55), (-66, 51), (-70, 55))
            Line((-70, 55), (-82, 55))
            ThreePointArc((-82, 55), (-86, 51), (-90, 55))
            Line((-90, 55), (-108, 55))
            ThreePointArc((-108, 55), (-108.080132071, 54.203359921), (-108.317317708, 53.438638051))
            Line((-108.317317708, 53.438638051), (-69.878679656, 15))
        make_face(mode=Mode.SUBTRACT)
        with BuildLine():
            Line((72, -1.5), (112, -1.5))
            Line((112, -1.5), (112, -4.127016654))
            ThreePointArc((112, -4.127016654), (107, -8), (112, -11.872983346))
            Line((112, -11.872983346), (112, -24.127016654))
            ThreePointArc((112, -24.127016654), (107, -28), (112, -31.872983346))
            Line((112, -31.872983346), (112, -51))
            ThreePointArc((112, -51), (111.203359921, -51.080132071), (110.438638051, -51.317317708))
            Line((110.438638051, -51.317317708), (72, -12.878679656))
            Line((72, -12.878679656), (72, -1.5))
        make_face(mode=Mode.SUBTRACT)
        with BuildLine():
            Line((69.878679656, 15), (108.317317708, 53.438638051))
            ThreePointArc((108.317317708, 53.438638051), (108.080132071, 54.203359921), (108, 55))
            Line((108, 55), (90, 55))
            ThreePointArc((90, 55), (86, 51), (82, 55))
            Line((82, 55), (70, 55))
            ThreePointArc((70, 55), (66, 51), (62, 55))
            Line((62, 55), (12, 55))
            ThreePointArc((12, 55), (8, 51), (4, 55))
            Line((4, 55), (1.5, 55))
            Line((1.5, 55), (1.5, 15))
            Line((1.5, 15), (69.878679656, 15))
        make_face(mode=Mode.SUBTRACT)
        with BuildLine():
            Line((-72, -12.878679656), (-110.438638051, -51.317317708))
            ThreePointArc((-110.438638051, -51.317317708), (-111.203359921, -51.080132071), (-112, -51))
            Line((-112, -51), (-112, -31.872983346))
            ThreePointArc((-112, -31.872983346), (-107, -28), (-112, -24.127016654))
            Line((-112, -24.127016654), (-112, -11.872983346))
            ThreePointArc((-112, -11.872983346), (-107, -8), (-112, -4.127016654))
            Line((-112, -4.127016654), (-112, -1.5))
            Line((-112, -1.5), (-72, -1.5))
            Line((-72, -1.5), (-72, -12.878679656))
        make_face(mode=Mode.SUBTRACT)
    extrude(amount=EXTRUDE_3_DEPTH)

    # 圆角2
    fillet_2_edges = [body_2.edges().sort_by_distance(p)[0] for p in [
        (117, 41.5, 60),
        (-117, 41.5, 60),
        (-117, 41.5, -60),
        (117, 41.5, -60),
    ]]
    fillet(fillet_2_edges, radius=FILLET_2_R)

    # 草图11 → 切除-拉伸8 (cut)
    with BuildSketch(Plane(origin=(0, 43, 0), x_dir=(1, 0, 0), z_dir=(0, 1, 0))):
        with Locations(Location((-112, 55, 0), (0, 0, 270))):
            Circle(SKETCH_11_R)
        with Locations(Location((-86, 55, 0), (0, 0, 270))):
            Circle(SKETCH_11_R)
        with Locations(Location((-66, 55, 0), (0, 0, 270))):
            Circle(SKETCH_11_R)
        with Locations(Location((-111, -8, 0), (0, 0, 270))):
            Circle(SKETCH_11_R)
        with Locations(Location((-111, -28, 0), (0, 0, 270))):
            Circle(SKETCH_11_R)
        with Locations(Location((-112, -55, 0), (0, 0, 270))):
            Circle(SKETCH_11_R)
        with Locations(Location((-34, -55, 0), (0, 0, 270))):
            Circle(SKETCH_11_R)
        with Locations(Location((34, -55, 0), (0, 0, 270))):
            Circle(SKETCH_11_R)
        with Locations(Location((112, -55, 0), (0, 0, 270))):
            Circle(SKETCH_11_R)
        with Locations(Location((-8, 55, 0), (0, 0, 270))):
            Circle(SKETCH_11_R)
        with Locations(Location((8, 55, 0), (0, 0, 270))):
            Circle(SKETCH_11_R)
        with Locations(Location((66, 55, 0), (0, 0, 270))):
            Circle(SKETCH_11_R)
        with Locations(Location((86, 55, 0), (0, 0, 270))):
            Circle(SKETCH_11_R)
        with Locations(Location((112, 55, 0), (0, 0, 270))):
            Circle(SKETCH_11_R)
        with Locations(Location((111, -8, 0), (0, 0, 270))):
            Circle(SKETCH_11_R)
        with Locations(Location((111, -28, 0), (0, 0, 270))):
            Circle(SKETCH_11_R)
    extrude(amount=-CUT_EXTRUDE_8_DEPTH, mode=Mode.SUBTRACT)


solid = body_2.part
